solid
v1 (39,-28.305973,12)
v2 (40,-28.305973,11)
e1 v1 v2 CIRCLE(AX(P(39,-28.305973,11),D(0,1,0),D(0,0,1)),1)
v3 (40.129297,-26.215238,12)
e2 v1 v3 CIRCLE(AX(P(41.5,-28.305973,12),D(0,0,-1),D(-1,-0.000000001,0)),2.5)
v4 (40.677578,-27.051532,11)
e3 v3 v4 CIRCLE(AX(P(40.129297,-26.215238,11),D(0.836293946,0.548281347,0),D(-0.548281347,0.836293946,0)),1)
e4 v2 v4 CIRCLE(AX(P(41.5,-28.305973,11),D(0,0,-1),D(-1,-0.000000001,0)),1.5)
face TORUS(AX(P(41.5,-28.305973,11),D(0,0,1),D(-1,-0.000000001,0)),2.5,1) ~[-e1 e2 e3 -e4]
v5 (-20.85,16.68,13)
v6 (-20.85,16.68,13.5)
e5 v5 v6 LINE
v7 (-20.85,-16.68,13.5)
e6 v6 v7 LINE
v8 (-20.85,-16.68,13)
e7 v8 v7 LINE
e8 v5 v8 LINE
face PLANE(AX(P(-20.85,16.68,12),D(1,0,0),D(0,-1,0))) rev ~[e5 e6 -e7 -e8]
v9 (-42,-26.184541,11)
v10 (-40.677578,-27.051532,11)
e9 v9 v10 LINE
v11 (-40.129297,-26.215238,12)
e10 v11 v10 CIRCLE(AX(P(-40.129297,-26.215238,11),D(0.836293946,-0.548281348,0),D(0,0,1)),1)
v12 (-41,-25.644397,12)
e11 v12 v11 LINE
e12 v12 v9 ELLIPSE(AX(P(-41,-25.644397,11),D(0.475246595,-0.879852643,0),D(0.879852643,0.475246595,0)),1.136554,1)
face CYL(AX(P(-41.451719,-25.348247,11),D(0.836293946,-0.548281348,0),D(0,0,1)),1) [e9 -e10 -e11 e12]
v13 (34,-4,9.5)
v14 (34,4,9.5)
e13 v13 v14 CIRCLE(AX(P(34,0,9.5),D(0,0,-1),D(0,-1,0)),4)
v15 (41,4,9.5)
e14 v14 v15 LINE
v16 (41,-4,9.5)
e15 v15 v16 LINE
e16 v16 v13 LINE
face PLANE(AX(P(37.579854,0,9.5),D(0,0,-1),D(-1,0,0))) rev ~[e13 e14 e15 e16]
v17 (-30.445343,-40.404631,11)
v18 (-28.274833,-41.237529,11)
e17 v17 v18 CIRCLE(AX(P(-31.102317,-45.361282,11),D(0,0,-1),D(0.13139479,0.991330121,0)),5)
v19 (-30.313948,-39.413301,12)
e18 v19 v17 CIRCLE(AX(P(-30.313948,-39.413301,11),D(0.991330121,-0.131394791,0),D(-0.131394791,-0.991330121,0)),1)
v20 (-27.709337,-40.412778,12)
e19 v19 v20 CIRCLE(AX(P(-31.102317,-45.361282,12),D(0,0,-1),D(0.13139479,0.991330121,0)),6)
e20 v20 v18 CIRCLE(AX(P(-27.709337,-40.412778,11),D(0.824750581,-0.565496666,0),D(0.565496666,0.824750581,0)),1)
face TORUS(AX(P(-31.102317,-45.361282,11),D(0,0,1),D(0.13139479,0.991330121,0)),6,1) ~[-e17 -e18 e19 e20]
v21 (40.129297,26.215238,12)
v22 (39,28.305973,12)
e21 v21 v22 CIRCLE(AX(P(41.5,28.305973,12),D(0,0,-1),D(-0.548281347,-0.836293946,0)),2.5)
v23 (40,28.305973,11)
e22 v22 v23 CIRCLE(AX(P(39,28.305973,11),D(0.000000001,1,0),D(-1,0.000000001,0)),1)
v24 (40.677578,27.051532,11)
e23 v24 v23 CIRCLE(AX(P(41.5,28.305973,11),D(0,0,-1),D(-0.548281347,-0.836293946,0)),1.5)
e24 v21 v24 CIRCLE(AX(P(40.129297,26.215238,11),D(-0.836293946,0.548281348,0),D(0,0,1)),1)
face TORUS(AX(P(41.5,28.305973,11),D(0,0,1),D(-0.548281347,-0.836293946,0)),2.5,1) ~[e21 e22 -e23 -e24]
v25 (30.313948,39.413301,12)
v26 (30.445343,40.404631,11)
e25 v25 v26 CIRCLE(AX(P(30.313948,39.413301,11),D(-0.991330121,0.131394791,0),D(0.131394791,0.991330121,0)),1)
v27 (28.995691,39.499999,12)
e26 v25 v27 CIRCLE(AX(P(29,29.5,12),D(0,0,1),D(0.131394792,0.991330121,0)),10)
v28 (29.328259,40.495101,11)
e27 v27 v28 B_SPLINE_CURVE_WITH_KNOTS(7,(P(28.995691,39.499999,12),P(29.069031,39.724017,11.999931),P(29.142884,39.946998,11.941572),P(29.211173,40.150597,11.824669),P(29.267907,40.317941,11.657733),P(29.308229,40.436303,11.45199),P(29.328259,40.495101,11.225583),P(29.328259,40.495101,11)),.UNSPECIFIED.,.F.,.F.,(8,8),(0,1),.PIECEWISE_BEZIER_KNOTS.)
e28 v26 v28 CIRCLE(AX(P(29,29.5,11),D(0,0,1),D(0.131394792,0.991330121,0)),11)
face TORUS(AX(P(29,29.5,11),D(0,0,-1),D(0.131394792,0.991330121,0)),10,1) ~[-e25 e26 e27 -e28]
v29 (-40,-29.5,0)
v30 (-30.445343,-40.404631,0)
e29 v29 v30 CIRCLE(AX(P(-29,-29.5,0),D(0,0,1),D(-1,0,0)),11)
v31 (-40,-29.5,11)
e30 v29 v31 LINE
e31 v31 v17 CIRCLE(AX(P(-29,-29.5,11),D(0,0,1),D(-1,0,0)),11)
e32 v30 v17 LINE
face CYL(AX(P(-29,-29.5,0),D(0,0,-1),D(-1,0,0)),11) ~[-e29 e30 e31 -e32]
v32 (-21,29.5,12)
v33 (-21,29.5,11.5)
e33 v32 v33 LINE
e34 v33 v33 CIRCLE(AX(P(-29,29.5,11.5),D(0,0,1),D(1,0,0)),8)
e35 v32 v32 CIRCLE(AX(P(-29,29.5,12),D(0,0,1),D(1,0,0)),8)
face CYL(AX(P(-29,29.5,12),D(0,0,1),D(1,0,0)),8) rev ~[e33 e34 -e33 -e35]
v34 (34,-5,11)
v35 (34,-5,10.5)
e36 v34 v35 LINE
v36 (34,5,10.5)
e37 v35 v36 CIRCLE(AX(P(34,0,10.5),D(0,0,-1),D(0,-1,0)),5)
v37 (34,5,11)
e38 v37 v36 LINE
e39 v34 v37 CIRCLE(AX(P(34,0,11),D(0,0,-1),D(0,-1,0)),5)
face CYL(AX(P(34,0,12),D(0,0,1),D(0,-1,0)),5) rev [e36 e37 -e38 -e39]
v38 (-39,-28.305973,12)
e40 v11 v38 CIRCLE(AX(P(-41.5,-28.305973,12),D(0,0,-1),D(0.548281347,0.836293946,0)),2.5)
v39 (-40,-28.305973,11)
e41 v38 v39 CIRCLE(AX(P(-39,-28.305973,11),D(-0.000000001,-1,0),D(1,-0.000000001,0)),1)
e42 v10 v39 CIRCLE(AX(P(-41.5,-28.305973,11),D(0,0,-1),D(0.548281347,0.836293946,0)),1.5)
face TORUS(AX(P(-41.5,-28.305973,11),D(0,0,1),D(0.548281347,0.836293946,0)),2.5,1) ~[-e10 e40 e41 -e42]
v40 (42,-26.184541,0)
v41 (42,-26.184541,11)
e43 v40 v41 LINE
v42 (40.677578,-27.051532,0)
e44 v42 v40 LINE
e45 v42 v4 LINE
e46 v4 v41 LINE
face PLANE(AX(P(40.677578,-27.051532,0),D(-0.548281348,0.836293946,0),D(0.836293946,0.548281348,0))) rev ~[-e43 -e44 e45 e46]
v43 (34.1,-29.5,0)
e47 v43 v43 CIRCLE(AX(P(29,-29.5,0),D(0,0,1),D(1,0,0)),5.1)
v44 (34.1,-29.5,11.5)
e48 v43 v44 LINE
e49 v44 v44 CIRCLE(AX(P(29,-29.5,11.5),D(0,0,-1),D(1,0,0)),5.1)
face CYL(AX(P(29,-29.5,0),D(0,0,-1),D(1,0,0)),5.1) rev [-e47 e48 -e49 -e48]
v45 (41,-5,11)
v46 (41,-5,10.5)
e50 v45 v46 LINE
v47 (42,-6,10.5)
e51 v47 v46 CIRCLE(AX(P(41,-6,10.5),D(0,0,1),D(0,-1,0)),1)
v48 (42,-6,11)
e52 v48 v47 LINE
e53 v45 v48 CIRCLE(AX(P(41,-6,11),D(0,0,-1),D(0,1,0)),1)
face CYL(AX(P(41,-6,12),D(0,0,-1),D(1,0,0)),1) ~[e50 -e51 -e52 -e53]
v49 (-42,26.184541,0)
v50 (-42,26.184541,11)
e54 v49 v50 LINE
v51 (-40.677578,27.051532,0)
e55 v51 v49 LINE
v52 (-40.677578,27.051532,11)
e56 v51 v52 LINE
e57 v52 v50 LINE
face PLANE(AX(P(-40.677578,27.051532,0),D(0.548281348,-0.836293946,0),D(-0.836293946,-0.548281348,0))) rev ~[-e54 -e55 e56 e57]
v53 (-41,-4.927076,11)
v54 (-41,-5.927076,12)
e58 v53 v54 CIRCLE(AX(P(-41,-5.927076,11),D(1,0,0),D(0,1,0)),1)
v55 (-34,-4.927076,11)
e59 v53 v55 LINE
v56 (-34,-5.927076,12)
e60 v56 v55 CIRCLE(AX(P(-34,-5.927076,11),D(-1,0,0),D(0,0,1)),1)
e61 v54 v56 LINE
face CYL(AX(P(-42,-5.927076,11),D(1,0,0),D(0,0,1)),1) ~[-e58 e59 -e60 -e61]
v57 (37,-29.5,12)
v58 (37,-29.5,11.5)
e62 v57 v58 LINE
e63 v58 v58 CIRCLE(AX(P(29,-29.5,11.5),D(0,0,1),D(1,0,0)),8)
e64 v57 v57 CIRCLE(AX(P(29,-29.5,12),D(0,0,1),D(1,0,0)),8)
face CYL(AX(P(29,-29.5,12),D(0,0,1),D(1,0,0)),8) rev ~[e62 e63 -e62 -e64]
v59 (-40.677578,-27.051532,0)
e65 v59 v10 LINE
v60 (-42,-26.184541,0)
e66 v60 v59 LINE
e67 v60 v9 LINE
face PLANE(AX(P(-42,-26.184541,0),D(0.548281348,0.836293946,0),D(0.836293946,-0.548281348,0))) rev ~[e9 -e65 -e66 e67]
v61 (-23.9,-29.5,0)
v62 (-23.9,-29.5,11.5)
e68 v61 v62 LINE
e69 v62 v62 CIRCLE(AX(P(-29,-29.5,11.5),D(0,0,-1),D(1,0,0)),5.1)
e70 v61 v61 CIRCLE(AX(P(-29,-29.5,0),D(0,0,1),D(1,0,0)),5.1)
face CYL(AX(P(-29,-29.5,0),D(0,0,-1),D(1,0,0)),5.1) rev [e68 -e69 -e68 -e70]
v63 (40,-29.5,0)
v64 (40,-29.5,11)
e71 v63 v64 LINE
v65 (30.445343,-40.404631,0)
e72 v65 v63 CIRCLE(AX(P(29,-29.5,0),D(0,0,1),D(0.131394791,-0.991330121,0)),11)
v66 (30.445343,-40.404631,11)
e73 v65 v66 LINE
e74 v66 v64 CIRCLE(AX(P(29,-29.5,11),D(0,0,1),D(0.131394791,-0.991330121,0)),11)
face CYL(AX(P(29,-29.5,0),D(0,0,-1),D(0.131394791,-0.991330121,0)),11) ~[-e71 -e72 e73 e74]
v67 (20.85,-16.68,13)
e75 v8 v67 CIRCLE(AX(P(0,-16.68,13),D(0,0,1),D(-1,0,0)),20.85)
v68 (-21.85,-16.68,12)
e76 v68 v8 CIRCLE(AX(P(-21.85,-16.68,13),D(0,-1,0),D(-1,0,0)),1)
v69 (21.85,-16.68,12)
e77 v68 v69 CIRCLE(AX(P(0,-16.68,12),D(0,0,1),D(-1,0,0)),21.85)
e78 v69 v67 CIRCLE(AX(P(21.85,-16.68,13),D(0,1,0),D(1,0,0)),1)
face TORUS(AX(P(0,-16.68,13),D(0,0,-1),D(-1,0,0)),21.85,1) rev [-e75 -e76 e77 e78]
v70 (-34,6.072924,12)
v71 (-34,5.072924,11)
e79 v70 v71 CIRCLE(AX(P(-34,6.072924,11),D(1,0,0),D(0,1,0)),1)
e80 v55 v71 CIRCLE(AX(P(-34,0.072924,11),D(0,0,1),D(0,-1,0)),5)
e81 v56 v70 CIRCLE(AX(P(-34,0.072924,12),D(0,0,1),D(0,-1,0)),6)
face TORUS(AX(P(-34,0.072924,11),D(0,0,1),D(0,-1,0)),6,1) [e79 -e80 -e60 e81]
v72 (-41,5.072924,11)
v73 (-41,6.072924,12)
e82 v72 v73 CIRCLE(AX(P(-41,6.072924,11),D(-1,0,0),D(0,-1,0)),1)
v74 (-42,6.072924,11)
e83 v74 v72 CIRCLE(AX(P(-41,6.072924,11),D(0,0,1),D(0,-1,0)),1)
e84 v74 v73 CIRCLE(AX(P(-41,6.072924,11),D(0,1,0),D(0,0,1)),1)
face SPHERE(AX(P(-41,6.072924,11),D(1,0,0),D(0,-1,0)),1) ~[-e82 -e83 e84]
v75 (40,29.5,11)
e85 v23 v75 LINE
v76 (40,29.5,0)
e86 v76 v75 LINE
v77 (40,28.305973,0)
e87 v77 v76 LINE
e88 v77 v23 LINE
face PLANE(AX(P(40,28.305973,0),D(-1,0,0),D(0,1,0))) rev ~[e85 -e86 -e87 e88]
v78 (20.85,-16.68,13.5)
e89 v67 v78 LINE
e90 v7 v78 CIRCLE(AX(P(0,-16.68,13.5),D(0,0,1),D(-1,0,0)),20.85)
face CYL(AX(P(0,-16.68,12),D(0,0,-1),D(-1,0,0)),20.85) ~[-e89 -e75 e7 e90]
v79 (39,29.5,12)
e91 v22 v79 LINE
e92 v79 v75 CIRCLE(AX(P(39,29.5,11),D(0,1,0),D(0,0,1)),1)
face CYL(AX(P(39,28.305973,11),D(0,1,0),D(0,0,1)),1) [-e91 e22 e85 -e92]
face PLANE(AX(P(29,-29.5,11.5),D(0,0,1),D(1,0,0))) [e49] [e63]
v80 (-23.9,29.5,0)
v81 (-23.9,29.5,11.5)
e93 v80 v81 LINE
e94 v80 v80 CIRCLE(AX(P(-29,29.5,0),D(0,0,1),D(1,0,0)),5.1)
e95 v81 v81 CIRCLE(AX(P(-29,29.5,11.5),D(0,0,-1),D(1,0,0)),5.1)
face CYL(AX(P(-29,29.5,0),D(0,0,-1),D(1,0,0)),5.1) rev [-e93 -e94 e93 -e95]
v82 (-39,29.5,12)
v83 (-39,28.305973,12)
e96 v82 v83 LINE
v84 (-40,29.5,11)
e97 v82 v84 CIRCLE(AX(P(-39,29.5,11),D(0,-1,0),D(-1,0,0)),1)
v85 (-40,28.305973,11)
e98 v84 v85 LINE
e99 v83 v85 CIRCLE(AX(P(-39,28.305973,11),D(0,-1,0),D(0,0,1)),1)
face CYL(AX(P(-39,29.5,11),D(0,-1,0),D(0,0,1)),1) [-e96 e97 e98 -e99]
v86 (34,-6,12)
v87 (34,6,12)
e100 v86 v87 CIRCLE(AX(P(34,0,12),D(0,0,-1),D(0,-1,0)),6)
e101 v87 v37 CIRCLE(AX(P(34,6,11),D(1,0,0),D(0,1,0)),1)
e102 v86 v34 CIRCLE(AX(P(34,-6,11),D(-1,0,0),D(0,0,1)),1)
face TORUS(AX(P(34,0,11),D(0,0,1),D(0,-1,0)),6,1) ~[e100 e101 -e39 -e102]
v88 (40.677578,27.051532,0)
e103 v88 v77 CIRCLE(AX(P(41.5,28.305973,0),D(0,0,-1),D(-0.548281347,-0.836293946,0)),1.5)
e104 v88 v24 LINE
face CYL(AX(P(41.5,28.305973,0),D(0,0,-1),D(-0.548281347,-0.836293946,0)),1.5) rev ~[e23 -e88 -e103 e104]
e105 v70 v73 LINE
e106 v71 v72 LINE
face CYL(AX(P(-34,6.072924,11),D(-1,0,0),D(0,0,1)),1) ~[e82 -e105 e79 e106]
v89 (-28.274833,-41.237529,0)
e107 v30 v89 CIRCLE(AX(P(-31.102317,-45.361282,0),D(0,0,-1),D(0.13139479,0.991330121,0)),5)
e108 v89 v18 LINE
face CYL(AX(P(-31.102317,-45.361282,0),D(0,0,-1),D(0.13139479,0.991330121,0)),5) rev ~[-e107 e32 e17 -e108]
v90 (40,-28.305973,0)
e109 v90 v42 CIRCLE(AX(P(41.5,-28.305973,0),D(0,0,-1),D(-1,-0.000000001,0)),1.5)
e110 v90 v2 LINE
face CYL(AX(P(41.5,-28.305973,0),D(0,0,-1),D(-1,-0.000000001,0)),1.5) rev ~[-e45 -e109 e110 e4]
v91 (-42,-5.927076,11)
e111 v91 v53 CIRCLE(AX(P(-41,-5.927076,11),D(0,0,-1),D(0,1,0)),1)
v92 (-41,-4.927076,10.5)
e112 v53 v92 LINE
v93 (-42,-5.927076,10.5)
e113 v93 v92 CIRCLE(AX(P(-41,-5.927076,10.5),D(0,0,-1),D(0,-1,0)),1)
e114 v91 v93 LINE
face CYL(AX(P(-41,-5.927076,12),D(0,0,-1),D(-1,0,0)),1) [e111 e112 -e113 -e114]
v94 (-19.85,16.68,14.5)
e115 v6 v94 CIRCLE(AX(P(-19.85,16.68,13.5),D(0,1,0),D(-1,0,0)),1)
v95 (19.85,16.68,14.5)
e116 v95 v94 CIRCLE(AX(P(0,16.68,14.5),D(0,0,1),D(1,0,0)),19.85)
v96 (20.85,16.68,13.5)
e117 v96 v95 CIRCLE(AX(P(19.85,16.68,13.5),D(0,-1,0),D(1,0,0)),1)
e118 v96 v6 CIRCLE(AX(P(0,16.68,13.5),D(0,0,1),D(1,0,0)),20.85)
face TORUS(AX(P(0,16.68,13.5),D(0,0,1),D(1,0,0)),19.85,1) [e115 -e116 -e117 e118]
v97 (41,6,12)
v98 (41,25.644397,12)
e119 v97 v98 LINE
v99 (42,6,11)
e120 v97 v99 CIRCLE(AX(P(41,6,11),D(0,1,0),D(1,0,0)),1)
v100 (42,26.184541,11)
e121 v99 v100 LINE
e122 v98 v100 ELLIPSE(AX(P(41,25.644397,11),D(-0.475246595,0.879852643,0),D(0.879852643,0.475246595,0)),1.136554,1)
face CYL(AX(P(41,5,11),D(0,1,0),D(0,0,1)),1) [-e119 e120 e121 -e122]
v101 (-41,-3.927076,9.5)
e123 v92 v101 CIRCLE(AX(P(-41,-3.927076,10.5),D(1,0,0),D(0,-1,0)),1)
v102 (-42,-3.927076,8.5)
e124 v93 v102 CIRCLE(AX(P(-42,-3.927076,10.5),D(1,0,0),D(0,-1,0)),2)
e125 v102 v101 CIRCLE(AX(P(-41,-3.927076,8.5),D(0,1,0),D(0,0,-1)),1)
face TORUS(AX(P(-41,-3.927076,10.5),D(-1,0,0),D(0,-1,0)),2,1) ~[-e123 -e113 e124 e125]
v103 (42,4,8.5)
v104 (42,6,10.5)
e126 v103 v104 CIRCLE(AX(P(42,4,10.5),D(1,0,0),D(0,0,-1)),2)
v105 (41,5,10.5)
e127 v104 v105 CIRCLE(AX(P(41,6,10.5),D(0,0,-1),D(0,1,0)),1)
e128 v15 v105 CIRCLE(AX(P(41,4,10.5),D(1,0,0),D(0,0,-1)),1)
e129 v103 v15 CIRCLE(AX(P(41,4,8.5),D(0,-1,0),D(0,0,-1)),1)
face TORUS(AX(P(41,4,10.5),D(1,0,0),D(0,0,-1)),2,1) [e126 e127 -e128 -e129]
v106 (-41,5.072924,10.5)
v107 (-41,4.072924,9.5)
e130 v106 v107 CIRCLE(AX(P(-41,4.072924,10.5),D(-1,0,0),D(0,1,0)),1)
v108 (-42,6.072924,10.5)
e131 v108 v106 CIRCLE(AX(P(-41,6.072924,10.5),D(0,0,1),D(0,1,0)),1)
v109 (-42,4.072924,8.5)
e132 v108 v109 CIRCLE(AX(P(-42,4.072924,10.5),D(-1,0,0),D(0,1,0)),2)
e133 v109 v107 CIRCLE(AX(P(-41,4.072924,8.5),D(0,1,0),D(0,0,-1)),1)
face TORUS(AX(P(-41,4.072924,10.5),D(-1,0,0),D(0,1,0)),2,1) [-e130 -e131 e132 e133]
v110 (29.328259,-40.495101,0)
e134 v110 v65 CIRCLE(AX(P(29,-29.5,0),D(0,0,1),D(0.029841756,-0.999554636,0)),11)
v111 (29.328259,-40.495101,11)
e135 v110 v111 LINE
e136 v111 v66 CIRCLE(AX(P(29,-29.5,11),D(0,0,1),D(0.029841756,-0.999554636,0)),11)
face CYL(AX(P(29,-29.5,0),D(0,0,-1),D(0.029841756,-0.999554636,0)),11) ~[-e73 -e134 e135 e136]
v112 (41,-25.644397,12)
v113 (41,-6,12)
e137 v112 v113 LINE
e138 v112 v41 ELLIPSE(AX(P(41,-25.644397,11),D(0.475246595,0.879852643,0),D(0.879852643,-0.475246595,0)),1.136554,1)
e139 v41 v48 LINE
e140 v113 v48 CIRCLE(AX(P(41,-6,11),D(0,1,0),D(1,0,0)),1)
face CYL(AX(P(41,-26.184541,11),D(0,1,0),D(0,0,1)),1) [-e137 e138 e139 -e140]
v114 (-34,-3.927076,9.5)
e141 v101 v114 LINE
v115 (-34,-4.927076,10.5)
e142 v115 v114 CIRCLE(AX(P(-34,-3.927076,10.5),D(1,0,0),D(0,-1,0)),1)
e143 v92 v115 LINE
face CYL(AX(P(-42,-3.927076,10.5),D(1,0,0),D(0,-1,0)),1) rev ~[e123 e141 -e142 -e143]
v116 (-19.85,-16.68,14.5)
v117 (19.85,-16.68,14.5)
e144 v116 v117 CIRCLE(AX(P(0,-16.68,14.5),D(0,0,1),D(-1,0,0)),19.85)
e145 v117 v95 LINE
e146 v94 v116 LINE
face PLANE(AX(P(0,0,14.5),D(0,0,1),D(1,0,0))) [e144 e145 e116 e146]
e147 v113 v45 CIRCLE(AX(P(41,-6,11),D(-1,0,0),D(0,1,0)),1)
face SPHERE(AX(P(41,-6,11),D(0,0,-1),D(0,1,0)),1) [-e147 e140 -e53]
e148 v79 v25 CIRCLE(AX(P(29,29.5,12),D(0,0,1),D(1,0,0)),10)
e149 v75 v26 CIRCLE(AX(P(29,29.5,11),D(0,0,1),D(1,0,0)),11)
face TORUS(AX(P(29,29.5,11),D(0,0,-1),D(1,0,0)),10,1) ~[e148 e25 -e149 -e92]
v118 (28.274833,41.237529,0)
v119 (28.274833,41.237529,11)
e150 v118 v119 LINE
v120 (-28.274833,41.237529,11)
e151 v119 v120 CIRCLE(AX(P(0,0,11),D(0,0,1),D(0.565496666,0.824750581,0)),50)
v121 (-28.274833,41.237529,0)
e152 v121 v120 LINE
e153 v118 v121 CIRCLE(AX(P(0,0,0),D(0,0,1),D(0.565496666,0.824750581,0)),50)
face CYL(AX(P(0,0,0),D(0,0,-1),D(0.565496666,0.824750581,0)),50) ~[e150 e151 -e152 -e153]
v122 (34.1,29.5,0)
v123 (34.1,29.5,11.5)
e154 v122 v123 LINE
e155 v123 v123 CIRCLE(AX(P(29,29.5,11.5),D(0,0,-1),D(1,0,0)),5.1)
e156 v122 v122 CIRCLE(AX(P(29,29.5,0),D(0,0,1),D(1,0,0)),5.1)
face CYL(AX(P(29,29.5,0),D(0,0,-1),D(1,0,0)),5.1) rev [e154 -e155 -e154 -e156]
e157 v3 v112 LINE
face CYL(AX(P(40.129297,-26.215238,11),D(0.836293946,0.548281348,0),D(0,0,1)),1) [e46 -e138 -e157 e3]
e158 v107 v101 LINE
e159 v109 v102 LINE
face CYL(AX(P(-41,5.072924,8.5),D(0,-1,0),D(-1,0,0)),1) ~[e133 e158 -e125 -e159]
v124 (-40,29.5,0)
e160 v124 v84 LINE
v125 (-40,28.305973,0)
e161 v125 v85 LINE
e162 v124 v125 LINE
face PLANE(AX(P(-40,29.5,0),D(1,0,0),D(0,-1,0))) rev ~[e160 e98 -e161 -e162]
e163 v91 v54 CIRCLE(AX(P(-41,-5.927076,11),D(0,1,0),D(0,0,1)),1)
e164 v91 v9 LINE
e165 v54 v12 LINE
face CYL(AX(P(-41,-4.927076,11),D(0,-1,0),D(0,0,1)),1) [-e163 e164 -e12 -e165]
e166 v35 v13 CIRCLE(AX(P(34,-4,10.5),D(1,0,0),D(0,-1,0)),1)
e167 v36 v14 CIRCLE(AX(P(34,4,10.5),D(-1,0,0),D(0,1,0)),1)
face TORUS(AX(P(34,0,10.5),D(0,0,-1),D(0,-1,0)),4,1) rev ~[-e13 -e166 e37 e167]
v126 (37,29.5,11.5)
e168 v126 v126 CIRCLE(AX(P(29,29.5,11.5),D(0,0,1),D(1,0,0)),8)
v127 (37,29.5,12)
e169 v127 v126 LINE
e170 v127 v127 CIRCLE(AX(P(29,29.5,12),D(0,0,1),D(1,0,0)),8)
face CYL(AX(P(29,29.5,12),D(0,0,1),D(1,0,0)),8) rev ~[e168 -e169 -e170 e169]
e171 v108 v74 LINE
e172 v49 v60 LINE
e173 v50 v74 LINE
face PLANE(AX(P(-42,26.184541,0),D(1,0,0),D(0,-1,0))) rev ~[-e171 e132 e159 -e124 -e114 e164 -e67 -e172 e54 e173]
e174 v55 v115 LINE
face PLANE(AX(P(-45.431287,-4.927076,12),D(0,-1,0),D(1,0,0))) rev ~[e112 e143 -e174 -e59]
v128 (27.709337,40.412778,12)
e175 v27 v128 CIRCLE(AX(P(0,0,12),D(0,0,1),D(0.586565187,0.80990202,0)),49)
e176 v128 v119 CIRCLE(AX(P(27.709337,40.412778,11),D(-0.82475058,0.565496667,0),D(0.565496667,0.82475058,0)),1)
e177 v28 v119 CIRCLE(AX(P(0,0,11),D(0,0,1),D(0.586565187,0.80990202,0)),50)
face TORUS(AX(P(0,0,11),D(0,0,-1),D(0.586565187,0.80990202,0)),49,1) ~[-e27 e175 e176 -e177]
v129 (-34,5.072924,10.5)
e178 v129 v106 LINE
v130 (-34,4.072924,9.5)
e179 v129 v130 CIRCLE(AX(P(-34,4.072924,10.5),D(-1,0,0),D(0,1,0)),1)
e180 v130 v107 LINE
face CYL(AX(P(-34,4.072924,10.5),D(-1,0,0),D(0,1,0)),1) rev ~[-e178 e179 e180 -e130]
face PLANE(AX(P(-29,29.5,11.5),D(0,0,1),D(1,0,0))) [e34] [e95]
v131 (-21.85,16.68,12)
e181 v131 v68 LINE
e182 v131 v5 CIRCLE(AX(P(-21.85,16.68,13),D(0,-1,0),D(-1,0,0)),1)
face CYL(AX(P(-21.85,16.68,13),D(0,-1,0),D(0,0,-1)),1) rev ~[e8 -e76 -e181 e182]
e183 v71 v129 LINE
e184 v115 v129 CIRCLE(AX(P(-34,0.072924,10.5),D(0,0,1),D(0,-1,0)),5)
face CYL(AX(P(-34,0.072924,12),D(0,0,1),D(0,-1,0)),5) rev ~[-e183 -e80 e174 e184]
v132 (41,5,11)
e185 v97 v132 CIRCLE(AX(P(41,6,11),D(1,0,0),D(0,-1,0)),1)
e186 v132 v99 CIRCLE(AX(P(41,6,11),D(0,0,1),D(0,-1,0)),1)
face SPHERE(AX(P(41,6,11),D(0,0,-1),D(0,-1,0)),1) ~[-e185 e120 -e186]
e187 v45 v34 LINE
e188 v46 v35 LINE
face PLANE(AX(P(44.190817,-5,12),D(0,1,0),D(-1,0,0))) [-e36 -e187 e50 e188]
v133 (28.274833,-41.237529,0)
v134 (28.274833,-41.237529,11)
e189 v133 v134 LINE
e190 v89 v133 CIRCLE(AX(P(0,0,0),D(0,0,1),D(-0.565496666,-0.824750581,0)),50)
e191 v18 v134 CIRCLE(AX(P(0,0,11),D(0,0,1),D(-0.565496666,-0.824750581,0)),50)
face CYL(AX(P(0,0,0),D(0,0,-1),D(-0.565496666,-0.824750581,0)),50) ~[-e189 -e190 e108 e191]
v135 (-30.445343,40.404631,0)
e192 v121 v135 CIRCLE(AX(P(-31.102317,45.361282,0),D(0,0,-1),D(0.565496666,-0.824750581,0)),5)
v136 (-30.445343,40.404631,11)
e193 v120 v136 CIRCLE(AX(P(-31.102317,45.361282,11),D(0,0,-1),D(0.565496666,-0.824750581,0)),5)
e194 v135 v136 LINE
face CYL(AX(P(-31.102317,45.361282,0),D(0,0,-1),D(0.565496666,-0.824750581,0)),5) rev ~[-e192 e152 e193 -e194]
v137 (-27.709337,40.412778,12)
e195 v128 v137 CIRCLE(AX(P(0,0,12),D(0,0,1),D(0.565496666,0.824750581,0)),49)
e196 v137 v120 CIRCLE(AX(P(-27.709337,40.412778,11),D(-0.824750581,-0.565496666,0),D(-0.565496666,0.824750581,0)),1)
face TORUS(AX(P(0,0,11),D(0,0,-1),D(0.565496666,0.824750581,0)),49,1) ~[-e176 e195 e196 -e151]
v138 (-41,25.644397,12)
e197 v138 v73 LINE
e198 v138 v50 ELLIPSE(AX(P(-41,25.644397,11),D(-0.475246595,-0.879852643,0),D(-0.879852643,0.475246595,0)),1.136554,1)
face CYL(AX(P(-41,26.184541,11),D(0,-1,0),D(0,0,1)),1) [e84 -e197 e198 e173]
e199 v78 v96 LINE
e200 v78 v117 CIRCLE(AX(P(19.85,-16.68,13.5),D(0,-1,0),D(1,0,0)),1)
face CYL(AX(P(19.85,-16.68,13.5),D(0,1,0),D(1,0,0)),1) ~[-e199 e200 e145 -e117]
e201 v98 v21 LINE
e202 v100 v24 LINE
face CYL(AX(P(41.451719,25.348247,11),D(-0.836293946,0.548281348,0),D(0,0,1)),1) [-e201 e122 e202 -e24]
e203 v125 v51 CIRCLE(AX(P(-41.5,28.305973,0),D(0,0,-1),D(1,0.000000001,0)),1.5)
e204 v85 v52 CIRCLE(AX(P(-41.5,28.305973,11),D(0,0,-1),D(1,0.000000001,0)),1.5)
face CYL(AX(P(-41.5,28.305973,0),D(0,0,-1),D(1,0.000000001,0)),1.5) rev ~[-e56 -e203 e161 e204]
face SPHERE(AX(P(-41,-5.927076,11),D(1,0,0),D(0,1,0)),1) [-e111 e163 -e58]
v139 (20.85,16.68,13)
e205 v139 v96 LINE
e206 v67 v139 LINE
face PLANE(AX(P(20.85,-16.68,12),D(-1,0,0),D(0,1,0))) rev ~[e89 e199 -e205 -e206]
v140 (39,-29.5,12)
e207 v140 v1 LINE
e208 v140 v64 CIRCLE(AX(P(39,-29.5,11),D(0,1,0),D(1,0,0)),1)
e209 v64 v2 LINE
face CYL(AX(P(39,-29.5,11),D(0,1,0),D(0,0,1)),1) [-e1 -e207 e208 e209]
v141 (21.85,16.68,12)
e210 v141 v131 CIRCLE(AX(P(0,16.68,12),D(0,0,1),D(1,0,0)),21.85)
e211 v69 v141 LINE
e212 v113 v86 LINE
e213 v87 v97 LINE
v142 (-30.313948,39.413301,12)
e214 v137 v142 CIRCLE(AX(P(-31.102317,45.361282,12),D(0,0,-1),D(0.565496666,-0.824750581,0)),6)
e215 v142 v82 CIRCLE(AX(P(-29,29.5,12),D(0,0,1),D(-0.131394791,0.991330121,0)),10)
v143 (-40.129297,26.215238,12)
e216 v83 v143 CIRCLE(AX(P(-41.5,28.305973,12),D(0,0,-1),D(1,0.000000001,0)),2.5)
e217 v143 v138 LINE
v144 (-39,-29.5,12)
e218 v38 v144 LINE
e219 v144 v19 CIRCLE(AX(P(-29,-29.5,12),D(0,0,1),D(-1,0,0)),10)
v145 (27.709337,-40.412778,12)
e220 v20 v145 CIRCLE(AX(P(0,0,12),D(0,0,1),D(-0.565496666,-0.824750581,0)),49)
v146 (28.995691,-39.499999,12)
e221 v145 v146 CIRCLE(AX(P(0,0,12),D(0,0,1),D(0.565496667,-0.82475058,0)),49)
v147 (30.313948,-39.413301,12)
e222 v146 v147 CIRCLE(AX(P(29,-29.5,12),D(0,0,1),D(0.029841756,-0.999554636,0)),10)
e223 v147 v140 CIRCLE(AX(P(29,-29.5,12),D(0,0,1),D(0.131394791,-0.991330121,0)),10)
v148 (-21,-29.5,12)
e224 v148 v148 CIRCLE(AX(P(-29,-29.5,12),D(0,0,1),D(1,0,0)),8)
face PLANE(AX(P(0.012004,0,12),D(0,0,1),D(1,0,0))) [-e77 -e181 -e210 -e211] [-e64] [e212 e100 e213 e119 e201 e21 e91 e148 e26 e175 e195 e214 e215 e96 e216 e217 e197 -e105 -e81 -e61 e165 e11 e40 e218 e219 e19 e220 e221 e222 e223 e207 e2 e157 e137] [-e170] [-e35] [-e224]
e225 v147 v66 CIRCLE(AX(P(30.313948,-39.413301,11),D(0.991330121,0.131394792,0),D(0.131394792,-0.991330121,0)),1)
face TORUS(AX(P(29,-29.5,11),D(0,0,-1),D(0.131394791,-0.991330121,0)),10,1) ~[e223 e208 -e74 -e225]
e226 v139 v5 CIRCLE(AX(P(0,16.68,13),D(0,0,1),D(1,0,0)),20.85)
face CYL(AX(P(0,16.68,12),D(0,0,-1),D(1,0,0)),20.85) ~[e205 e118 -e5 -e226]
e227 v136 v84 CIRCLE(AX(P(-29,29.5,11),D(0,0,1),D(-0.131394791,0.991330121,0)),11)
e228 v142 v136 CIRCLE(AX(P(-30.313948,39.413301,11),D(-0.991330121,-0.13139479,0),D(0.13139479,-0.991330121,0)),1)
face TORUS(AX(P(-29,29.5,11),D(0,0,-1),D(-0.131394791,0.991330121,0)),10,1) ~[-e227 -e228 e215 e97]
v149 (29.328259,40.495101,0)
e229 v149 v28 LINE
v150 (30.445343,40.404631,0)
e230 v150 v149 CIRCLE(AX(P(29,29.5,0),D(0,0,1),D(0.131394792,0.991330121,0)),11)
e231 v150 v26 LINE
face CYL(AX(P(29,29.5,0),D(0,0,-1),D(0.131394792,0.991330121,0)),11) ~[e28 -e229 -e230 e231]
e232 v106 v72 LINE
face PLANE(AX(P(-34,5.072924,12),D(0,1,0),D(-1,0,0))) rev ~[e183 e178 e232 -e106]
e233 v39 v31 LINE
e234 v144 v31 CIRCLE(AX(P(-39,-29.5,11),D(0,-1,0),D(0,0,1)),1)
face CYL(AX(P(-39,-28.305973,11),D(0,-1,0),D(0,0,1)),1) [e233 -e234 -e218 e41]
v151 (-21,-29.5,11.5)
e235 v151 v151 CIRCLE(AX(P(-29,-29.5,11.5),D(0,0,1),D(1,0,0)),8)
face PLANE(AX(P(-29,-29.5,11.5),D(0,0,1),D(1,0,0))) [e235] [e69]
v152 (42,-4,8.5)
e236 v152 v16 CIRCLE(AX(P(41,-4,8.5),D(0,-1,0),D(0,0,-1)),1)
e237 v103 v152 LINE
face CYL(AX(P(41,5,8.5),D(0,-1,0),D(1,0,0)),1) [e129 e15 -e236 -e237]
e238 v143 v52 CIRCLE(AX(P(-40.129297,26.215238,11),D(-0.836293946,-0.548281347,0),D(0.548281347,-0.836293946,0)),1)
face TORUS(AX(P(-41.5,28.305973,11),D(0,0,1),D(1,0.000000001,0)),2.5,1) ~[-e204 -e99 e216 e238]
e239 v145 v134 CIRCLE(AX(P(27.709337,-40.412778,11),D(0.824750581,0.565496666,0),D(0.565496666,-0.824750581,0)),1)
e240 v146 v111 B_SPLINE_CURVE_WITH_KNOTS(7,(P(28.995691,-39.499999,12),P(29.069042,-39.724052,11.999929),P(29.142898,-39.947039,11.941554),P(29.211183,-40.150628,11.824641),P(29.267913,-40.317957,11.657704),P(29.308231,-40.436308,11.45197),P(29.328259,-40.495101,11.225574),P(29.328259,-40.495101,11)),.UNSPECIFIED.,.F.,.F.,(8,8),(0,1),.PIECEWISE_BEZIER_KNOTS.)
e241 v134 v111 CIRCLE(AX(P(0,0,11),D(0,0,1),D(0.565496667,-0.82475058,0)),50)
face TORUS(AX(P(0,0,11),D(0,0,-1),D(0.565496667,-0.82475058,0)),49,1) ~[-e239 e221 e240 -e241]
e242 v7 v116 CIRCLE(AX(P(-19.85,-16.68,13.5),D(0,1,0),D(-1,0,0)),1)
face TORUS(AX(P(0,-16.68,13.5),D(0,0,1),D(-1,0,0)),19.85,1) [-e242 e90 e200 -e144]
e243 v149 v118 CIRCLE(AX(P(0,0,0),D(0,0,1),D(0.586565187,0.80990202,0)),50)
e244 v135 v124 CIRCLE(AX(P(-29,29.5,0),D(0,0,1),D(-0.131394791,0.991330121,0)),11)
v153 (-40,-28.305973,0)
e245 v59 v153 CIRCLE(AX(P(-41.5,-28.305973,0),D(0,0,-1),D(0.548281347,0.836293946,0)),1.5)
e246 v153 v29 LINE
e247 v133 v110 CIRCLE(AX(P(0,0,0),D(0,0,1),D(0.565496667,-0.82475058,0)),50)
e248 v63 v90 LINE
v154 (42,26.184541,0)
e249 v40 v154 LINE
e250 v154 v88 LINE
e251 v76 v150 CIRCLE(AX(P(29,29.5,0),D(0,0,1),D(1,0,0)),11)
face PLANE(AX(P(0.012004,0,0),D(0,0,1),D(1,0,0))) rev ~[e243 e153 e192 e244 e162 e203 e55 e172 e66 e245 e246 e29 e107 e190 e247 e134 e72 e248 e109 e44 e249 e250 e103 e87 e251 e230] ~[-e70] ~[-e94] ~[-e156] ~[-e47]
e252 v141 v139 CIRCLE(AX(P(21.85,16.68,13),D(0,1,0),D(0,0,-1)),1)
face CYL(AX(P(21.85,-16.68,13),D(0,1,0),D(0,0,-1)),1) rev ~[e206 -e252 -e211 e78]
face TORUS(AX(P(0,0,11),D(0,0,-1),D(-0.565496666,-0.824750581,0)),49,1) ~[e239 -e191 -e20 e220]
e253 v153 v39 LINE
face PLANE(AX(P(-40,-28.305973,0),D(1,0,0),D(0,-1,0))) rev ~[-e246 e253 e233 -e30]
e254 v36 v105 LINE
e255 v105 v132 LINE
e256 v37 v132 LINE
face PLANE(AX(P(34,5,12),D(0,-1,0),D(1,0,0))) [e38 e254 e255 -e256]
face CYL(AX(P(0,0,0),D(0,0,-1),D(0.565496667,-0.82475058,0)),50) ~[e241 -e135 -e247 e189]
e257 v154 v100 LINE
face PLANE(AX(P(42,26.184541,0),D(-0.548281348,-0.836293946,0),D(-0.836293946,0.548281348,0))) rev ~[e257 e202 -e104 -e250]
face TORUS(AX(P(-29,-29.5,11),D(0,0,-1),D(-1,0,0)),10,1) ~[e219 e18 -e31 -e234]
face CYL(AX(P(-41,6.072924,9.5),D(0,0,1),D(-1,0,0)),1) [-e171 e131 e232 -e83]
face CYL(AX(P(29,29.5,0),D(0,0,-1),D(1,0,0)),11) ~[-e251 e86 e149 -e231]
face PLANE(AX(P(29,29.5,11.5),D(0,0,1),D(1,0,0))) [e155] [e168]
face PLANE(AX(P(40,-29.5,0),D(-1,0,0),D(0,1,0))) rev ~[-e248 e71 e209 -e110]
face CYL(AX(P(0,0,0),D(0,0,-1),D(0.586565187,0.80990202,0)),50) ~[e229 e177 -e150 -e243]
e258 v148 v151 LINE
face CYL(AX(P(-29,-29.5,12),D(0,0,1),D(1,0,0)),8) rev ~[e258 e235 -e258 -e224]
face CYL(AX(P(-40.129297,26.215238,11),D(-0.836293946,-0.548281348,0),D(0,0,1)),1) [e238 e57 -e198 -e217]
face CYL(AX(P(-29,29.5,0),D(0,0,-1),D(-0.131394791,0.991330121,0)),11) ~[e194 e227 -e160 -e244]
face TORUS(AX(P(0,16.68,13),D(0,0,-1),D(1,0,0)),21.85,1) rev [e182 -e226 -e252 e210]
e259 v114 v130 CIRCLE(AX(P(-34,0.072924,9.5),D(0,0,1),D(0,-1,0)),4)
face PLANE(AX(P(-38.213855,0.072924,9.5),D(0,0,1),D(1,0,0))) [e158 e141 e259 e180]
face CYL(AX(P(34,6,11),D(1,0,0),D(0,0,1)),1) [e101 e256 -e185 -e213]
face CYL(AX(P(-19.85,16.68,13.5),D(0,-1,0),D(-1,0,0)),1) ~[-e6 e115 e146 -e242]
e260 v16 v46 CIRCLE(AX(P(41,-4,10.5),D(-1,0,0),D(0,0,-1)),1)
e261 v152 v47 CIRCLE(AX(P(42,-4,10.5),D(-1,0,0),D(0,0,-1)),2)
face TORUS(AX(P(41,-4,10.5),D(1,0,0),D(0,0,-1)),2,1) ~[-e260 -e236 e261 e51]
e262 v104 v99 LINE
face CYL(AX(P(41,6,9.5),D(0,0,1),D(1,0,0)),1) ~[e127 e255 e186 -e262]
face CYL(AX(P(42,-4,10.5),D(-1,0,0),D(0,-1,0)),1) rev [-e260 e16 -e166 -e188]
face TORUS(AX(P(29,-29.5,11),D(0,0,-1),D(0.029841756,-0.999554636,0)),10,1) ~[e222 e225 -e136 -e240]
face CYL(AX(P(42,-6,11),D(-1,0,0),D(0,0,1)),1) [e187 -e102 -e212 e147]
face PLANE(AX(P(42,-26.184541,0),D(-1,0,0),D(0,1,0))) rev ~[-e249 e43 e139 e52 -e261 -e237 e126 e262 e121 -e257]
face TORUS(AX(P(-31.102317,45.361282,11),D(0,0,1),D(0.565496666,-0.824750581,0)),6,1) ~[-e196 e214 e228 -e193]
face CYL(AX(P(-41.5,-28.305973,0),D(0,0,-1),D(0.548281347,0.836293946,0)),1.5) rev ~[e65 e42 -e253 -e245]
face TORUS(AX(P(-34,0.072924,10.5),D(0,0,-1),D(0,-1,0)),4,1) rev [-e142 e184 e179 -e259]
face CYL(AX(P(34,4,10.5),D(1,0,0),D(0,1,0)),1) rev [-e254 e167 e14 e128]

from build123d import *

# Parameters (mm, degrees)
IZIM1_R                     = 5.1
Y_KSEKLIK_EKSTR_ZYON1_DEPTH = 12
Y_KSEKLIK_EKSTR_ZYON3_DEPTH = 2.5
KES_EKSTR_ZYON3_DEPTH       = 2.5
IZIM6_R                     = 8
KES_EKSTR_ZYON4_DEPTH       = 0.5
RADYUS1_R                   = 1


with BuildPart() as part:
    # Çizim1 → Yükseklik-Ekstrüzyon1 (new body)
    with BuildSketch(Plane.XY):
        with BuildLine():
            ThreePointArc((-30.445342697, 40.404631332), (-37.273414339, 36.74918031), (-40, 29.5))
            Line((-40, 29.5), (-40, 28.305972781))
            ThreePointArc((-40, 28.305972781), (-40.180221035, 27.593102888), (-40.677577979, 27.051531862))
            Line((-40.677577979, 27.051531862), (-42, 26.184540858))
            Line((-42, 26.184540858), (-42, -26.184540858))
            Line((-42, -26.184540858), (-40.677577979, -27.051531862))
            ThreePointArc((-40.677577979, -27.051531862), (-40.180221035, -27.593102888), (-40, -28.305972781))
            Line((-40, -28.305972781), (-40, -29.5))
            ThreePointArc((-40, -29.5), (-37.273414339, -36.74918031), (-30.445342697, -40.404631332))
            ThreePointArc((-30.445342697, -40.404631332), (-29.311006992, -40.693176357), (-28.274833318, -41.237529034))
            ThreePointArc((-28.274833318, -41.237529034), (0, -50), (28.274833318, -41.237529034))
            ThreePointArc((28.274833318, -41.237529034), (28.803938458, -40.86970919), (29.328259336, -40.495100991))
            ThreePointArc((29.328259336, -40.495100991), (29.887953959, -40.464102233), (30.445342697, -40.404631332))
            ThreePointArc((30.445342697, -40.404631332), (37.273414339, -36.74918031), (40, -29.5))
            Line((40, -29.5), (40, -28.305972781))
            ThreePointArc((40, -28.305972781), (40.180221035, -27.593102888), (40.677577979, -27.051531862))
            Line((40.677577979, -27.051531862), (42, -26.184540858))
            Line((42, -26.184540858), (42, 26.184540858))
            Line((42, 26.184540858), (40.677577979, 27.051531862))
            ThreePointArc((40.677577979, 27.051531862), (40.180221035, 27.593102888), (40, 28.305972781))
            Line((40, 28.305972781), (40, 29.5))
            ThreePointArc((40, 29.5), (37.273414339, 36.74918031), (30.445342697, 40.404631332))
            ThreePointArc((30.445342697, 40.404631332), (29.887953959, 40.464102233), (29.328259336, 40.495100991))
            ThreePointArc((29.328259336, 40.495100991), (28.803938458, 40.86970919), (28.274833318, 41.237529034))
            ThreePointArc((28.274833318, 41.237529034), (0, 50), (-28.274833318, 41.237529034))
            ThreePointArc((-28.274833318, 41.237529034), (-29.311006992, 40.693176357), (-30.445342697, 40.404631332))
        make_face()
        with Locations((-29, -29.5)):
            Circle(IZIM1_R, mode=Mode.SUBTRACT)
        with Locations((29, -29.5)):
            Circle(IZIM1_R, mode=Mode.SUBTRACT)
        with Locations((-29, 29.5)):
            Circle(IZIM1_R, mode=Mode.SUBTRACT)
        with Locations((29, 29.5)):
            Circle(IZIM1_R, mode=Mode.SUBTRACT)
    extrude(amount=Y_KSEKLIK_EKSTR_ZYON1_DEPTH)

    # Çizim2 → Yükseklik-Ekstrüzyon3 (add)
    with BuildSketch(Plane.XY.offset(12)):
        with BuildLine():
            Line((20.85, -16.68), (20.85, 16.68))
            ThreePointArc((20.85, 16.68), (0, 37.53), (-20.85, 16.68))
            Line((-20.85, 16.68), (-20.85, -16.68))
            ThreePointArc((-20.85, -16.68), (0, -37.53), (20.85, -16.68))
        make_face()
    extrude(amount=Y_KSEKLIK_EKSTR_ZYON3_DEPTH)

    # Çizim5 → Kes-Ekstrüzyon3 (cut)
    with BuildSketch(Plane.XY.offset(12)):
        with BuildLine():
            Line((-34, 5.072923691), (-45.431287404, 5.072923691))
            Line((-45.431287404, 5.072923691), (-45.431287404, -4.927076309))
            Line((-45.431287404, -4.927076309), (-34, -4.927076309))
            ThreePointArc((-34, -4.927076309), (-29, 0.072923691), (-34, 5.072923691))
        make_face()
        with BuildLine():
            Line((34, 5), (44.190816649, 5))
            Line((44.190816649, 5), (44.190816649, -5))
            Line((44.190816649, -5), (34, -5))
            ThreePointArc((34, -5), (29, 0), (34, 5))
        make_face()
    extrude(amount=-KES_EKSTR_ZYON3_DEPTH, mode=Mode.SUBTRACT)

    # Çizim6 → Kes-Ekstrüzyon4 (cut)
    with BuildSketch(Plane.XY.offset(12)):
        with Locations((-29, 29.5)):
            Circle(IZIM6_R)
        with Locations((-29, -29.5)):
            Circle(IZIM6_R)
        with Locations((29, 29.5)):
            Circle(IZIM6_R)
        with Locations((29, -29.5)):
            Circle(IZIM6_R)
    extrude(amount=-KES_EKSTR_ZYON4_DEPTH, mode=Mode.SUBTRACT)

    # Radyus1
    radyus1_edges = [part.edges().sort_by_distance(p)[0] for p in [
        (0.644380667, -49.995847563, 12),
        (-42, 0.072923691, 9.5),
        (42, 0, 9.5),
        (-40.180221035, -27.593102888, 12),
        (42, 5, 10.75),
        (42, -5, 10.75),
        (29, 0, 9.5),
        (38, 5, 9.5),
        (38, -5, 9.5),
        (38, -5, 12),
        (29, 0, 12),
        (-40, -28.902986391, 12),
        (-37.273414339, -36.74918031, 12),
        (-38, 5.072923691, 12),
        (-29, 0.072923691, 12),
        (-38, 5.072923691, 9.5),
        (-42, 5.072923691, 10.75),
        (-42, -4.927076309, 10.75),
        (-38, -4.927076309, 9.5),
        (-29, 0.072923691, 9.5),
        (-29.311006992, -40.693176357, 12),
        (36.89337864, -37.161238389, 12),
        (40, -28.902986391, 12),
        (40.180221035, -27.593102888, 12),
        (41.338788989, -26.61803636, 12),
        (42, 15.592270429, 12),
        (41.338788989, 26.61803636, 12),
        (40.180221035, 27.593102888, 12),
        (40, 28.902986391, 12),
        (36.89337864, 37.161238389, 12),
        (0.644380667, 49.995847563, 12),
        (-29.311006992, 40.693176357, 12),
        (-37.273414339, 36.74918031, 12),
        (-40, 28.902986391, 12),
        (-40.180221035, 27.593102888, 12),
        (0, -37.53, 12),
        (20.85, 0, 12),
        (0, 37.53, 12),
        (-20.85, 0, 12),
        (0, -37.53, 14.5),
        (20.85, 0, 14.5),
        (0, 37.53, 14.5),
        (-20.85, 0, 14.5),
        (-41.338788989, 26.61803636, 12),
        (-42, 15.628732275, 12),
        (42, -15.592270429, 12),
        (-41.338788989, -26.61803636, 12),
        (-42, -15.555808584, 12),
        (-38, -4.927076309, 12),
        (38, 5, 12),
    ]]
    fillet(radyus1_edges, radius=RADYUS1_R)


solid = part.part
